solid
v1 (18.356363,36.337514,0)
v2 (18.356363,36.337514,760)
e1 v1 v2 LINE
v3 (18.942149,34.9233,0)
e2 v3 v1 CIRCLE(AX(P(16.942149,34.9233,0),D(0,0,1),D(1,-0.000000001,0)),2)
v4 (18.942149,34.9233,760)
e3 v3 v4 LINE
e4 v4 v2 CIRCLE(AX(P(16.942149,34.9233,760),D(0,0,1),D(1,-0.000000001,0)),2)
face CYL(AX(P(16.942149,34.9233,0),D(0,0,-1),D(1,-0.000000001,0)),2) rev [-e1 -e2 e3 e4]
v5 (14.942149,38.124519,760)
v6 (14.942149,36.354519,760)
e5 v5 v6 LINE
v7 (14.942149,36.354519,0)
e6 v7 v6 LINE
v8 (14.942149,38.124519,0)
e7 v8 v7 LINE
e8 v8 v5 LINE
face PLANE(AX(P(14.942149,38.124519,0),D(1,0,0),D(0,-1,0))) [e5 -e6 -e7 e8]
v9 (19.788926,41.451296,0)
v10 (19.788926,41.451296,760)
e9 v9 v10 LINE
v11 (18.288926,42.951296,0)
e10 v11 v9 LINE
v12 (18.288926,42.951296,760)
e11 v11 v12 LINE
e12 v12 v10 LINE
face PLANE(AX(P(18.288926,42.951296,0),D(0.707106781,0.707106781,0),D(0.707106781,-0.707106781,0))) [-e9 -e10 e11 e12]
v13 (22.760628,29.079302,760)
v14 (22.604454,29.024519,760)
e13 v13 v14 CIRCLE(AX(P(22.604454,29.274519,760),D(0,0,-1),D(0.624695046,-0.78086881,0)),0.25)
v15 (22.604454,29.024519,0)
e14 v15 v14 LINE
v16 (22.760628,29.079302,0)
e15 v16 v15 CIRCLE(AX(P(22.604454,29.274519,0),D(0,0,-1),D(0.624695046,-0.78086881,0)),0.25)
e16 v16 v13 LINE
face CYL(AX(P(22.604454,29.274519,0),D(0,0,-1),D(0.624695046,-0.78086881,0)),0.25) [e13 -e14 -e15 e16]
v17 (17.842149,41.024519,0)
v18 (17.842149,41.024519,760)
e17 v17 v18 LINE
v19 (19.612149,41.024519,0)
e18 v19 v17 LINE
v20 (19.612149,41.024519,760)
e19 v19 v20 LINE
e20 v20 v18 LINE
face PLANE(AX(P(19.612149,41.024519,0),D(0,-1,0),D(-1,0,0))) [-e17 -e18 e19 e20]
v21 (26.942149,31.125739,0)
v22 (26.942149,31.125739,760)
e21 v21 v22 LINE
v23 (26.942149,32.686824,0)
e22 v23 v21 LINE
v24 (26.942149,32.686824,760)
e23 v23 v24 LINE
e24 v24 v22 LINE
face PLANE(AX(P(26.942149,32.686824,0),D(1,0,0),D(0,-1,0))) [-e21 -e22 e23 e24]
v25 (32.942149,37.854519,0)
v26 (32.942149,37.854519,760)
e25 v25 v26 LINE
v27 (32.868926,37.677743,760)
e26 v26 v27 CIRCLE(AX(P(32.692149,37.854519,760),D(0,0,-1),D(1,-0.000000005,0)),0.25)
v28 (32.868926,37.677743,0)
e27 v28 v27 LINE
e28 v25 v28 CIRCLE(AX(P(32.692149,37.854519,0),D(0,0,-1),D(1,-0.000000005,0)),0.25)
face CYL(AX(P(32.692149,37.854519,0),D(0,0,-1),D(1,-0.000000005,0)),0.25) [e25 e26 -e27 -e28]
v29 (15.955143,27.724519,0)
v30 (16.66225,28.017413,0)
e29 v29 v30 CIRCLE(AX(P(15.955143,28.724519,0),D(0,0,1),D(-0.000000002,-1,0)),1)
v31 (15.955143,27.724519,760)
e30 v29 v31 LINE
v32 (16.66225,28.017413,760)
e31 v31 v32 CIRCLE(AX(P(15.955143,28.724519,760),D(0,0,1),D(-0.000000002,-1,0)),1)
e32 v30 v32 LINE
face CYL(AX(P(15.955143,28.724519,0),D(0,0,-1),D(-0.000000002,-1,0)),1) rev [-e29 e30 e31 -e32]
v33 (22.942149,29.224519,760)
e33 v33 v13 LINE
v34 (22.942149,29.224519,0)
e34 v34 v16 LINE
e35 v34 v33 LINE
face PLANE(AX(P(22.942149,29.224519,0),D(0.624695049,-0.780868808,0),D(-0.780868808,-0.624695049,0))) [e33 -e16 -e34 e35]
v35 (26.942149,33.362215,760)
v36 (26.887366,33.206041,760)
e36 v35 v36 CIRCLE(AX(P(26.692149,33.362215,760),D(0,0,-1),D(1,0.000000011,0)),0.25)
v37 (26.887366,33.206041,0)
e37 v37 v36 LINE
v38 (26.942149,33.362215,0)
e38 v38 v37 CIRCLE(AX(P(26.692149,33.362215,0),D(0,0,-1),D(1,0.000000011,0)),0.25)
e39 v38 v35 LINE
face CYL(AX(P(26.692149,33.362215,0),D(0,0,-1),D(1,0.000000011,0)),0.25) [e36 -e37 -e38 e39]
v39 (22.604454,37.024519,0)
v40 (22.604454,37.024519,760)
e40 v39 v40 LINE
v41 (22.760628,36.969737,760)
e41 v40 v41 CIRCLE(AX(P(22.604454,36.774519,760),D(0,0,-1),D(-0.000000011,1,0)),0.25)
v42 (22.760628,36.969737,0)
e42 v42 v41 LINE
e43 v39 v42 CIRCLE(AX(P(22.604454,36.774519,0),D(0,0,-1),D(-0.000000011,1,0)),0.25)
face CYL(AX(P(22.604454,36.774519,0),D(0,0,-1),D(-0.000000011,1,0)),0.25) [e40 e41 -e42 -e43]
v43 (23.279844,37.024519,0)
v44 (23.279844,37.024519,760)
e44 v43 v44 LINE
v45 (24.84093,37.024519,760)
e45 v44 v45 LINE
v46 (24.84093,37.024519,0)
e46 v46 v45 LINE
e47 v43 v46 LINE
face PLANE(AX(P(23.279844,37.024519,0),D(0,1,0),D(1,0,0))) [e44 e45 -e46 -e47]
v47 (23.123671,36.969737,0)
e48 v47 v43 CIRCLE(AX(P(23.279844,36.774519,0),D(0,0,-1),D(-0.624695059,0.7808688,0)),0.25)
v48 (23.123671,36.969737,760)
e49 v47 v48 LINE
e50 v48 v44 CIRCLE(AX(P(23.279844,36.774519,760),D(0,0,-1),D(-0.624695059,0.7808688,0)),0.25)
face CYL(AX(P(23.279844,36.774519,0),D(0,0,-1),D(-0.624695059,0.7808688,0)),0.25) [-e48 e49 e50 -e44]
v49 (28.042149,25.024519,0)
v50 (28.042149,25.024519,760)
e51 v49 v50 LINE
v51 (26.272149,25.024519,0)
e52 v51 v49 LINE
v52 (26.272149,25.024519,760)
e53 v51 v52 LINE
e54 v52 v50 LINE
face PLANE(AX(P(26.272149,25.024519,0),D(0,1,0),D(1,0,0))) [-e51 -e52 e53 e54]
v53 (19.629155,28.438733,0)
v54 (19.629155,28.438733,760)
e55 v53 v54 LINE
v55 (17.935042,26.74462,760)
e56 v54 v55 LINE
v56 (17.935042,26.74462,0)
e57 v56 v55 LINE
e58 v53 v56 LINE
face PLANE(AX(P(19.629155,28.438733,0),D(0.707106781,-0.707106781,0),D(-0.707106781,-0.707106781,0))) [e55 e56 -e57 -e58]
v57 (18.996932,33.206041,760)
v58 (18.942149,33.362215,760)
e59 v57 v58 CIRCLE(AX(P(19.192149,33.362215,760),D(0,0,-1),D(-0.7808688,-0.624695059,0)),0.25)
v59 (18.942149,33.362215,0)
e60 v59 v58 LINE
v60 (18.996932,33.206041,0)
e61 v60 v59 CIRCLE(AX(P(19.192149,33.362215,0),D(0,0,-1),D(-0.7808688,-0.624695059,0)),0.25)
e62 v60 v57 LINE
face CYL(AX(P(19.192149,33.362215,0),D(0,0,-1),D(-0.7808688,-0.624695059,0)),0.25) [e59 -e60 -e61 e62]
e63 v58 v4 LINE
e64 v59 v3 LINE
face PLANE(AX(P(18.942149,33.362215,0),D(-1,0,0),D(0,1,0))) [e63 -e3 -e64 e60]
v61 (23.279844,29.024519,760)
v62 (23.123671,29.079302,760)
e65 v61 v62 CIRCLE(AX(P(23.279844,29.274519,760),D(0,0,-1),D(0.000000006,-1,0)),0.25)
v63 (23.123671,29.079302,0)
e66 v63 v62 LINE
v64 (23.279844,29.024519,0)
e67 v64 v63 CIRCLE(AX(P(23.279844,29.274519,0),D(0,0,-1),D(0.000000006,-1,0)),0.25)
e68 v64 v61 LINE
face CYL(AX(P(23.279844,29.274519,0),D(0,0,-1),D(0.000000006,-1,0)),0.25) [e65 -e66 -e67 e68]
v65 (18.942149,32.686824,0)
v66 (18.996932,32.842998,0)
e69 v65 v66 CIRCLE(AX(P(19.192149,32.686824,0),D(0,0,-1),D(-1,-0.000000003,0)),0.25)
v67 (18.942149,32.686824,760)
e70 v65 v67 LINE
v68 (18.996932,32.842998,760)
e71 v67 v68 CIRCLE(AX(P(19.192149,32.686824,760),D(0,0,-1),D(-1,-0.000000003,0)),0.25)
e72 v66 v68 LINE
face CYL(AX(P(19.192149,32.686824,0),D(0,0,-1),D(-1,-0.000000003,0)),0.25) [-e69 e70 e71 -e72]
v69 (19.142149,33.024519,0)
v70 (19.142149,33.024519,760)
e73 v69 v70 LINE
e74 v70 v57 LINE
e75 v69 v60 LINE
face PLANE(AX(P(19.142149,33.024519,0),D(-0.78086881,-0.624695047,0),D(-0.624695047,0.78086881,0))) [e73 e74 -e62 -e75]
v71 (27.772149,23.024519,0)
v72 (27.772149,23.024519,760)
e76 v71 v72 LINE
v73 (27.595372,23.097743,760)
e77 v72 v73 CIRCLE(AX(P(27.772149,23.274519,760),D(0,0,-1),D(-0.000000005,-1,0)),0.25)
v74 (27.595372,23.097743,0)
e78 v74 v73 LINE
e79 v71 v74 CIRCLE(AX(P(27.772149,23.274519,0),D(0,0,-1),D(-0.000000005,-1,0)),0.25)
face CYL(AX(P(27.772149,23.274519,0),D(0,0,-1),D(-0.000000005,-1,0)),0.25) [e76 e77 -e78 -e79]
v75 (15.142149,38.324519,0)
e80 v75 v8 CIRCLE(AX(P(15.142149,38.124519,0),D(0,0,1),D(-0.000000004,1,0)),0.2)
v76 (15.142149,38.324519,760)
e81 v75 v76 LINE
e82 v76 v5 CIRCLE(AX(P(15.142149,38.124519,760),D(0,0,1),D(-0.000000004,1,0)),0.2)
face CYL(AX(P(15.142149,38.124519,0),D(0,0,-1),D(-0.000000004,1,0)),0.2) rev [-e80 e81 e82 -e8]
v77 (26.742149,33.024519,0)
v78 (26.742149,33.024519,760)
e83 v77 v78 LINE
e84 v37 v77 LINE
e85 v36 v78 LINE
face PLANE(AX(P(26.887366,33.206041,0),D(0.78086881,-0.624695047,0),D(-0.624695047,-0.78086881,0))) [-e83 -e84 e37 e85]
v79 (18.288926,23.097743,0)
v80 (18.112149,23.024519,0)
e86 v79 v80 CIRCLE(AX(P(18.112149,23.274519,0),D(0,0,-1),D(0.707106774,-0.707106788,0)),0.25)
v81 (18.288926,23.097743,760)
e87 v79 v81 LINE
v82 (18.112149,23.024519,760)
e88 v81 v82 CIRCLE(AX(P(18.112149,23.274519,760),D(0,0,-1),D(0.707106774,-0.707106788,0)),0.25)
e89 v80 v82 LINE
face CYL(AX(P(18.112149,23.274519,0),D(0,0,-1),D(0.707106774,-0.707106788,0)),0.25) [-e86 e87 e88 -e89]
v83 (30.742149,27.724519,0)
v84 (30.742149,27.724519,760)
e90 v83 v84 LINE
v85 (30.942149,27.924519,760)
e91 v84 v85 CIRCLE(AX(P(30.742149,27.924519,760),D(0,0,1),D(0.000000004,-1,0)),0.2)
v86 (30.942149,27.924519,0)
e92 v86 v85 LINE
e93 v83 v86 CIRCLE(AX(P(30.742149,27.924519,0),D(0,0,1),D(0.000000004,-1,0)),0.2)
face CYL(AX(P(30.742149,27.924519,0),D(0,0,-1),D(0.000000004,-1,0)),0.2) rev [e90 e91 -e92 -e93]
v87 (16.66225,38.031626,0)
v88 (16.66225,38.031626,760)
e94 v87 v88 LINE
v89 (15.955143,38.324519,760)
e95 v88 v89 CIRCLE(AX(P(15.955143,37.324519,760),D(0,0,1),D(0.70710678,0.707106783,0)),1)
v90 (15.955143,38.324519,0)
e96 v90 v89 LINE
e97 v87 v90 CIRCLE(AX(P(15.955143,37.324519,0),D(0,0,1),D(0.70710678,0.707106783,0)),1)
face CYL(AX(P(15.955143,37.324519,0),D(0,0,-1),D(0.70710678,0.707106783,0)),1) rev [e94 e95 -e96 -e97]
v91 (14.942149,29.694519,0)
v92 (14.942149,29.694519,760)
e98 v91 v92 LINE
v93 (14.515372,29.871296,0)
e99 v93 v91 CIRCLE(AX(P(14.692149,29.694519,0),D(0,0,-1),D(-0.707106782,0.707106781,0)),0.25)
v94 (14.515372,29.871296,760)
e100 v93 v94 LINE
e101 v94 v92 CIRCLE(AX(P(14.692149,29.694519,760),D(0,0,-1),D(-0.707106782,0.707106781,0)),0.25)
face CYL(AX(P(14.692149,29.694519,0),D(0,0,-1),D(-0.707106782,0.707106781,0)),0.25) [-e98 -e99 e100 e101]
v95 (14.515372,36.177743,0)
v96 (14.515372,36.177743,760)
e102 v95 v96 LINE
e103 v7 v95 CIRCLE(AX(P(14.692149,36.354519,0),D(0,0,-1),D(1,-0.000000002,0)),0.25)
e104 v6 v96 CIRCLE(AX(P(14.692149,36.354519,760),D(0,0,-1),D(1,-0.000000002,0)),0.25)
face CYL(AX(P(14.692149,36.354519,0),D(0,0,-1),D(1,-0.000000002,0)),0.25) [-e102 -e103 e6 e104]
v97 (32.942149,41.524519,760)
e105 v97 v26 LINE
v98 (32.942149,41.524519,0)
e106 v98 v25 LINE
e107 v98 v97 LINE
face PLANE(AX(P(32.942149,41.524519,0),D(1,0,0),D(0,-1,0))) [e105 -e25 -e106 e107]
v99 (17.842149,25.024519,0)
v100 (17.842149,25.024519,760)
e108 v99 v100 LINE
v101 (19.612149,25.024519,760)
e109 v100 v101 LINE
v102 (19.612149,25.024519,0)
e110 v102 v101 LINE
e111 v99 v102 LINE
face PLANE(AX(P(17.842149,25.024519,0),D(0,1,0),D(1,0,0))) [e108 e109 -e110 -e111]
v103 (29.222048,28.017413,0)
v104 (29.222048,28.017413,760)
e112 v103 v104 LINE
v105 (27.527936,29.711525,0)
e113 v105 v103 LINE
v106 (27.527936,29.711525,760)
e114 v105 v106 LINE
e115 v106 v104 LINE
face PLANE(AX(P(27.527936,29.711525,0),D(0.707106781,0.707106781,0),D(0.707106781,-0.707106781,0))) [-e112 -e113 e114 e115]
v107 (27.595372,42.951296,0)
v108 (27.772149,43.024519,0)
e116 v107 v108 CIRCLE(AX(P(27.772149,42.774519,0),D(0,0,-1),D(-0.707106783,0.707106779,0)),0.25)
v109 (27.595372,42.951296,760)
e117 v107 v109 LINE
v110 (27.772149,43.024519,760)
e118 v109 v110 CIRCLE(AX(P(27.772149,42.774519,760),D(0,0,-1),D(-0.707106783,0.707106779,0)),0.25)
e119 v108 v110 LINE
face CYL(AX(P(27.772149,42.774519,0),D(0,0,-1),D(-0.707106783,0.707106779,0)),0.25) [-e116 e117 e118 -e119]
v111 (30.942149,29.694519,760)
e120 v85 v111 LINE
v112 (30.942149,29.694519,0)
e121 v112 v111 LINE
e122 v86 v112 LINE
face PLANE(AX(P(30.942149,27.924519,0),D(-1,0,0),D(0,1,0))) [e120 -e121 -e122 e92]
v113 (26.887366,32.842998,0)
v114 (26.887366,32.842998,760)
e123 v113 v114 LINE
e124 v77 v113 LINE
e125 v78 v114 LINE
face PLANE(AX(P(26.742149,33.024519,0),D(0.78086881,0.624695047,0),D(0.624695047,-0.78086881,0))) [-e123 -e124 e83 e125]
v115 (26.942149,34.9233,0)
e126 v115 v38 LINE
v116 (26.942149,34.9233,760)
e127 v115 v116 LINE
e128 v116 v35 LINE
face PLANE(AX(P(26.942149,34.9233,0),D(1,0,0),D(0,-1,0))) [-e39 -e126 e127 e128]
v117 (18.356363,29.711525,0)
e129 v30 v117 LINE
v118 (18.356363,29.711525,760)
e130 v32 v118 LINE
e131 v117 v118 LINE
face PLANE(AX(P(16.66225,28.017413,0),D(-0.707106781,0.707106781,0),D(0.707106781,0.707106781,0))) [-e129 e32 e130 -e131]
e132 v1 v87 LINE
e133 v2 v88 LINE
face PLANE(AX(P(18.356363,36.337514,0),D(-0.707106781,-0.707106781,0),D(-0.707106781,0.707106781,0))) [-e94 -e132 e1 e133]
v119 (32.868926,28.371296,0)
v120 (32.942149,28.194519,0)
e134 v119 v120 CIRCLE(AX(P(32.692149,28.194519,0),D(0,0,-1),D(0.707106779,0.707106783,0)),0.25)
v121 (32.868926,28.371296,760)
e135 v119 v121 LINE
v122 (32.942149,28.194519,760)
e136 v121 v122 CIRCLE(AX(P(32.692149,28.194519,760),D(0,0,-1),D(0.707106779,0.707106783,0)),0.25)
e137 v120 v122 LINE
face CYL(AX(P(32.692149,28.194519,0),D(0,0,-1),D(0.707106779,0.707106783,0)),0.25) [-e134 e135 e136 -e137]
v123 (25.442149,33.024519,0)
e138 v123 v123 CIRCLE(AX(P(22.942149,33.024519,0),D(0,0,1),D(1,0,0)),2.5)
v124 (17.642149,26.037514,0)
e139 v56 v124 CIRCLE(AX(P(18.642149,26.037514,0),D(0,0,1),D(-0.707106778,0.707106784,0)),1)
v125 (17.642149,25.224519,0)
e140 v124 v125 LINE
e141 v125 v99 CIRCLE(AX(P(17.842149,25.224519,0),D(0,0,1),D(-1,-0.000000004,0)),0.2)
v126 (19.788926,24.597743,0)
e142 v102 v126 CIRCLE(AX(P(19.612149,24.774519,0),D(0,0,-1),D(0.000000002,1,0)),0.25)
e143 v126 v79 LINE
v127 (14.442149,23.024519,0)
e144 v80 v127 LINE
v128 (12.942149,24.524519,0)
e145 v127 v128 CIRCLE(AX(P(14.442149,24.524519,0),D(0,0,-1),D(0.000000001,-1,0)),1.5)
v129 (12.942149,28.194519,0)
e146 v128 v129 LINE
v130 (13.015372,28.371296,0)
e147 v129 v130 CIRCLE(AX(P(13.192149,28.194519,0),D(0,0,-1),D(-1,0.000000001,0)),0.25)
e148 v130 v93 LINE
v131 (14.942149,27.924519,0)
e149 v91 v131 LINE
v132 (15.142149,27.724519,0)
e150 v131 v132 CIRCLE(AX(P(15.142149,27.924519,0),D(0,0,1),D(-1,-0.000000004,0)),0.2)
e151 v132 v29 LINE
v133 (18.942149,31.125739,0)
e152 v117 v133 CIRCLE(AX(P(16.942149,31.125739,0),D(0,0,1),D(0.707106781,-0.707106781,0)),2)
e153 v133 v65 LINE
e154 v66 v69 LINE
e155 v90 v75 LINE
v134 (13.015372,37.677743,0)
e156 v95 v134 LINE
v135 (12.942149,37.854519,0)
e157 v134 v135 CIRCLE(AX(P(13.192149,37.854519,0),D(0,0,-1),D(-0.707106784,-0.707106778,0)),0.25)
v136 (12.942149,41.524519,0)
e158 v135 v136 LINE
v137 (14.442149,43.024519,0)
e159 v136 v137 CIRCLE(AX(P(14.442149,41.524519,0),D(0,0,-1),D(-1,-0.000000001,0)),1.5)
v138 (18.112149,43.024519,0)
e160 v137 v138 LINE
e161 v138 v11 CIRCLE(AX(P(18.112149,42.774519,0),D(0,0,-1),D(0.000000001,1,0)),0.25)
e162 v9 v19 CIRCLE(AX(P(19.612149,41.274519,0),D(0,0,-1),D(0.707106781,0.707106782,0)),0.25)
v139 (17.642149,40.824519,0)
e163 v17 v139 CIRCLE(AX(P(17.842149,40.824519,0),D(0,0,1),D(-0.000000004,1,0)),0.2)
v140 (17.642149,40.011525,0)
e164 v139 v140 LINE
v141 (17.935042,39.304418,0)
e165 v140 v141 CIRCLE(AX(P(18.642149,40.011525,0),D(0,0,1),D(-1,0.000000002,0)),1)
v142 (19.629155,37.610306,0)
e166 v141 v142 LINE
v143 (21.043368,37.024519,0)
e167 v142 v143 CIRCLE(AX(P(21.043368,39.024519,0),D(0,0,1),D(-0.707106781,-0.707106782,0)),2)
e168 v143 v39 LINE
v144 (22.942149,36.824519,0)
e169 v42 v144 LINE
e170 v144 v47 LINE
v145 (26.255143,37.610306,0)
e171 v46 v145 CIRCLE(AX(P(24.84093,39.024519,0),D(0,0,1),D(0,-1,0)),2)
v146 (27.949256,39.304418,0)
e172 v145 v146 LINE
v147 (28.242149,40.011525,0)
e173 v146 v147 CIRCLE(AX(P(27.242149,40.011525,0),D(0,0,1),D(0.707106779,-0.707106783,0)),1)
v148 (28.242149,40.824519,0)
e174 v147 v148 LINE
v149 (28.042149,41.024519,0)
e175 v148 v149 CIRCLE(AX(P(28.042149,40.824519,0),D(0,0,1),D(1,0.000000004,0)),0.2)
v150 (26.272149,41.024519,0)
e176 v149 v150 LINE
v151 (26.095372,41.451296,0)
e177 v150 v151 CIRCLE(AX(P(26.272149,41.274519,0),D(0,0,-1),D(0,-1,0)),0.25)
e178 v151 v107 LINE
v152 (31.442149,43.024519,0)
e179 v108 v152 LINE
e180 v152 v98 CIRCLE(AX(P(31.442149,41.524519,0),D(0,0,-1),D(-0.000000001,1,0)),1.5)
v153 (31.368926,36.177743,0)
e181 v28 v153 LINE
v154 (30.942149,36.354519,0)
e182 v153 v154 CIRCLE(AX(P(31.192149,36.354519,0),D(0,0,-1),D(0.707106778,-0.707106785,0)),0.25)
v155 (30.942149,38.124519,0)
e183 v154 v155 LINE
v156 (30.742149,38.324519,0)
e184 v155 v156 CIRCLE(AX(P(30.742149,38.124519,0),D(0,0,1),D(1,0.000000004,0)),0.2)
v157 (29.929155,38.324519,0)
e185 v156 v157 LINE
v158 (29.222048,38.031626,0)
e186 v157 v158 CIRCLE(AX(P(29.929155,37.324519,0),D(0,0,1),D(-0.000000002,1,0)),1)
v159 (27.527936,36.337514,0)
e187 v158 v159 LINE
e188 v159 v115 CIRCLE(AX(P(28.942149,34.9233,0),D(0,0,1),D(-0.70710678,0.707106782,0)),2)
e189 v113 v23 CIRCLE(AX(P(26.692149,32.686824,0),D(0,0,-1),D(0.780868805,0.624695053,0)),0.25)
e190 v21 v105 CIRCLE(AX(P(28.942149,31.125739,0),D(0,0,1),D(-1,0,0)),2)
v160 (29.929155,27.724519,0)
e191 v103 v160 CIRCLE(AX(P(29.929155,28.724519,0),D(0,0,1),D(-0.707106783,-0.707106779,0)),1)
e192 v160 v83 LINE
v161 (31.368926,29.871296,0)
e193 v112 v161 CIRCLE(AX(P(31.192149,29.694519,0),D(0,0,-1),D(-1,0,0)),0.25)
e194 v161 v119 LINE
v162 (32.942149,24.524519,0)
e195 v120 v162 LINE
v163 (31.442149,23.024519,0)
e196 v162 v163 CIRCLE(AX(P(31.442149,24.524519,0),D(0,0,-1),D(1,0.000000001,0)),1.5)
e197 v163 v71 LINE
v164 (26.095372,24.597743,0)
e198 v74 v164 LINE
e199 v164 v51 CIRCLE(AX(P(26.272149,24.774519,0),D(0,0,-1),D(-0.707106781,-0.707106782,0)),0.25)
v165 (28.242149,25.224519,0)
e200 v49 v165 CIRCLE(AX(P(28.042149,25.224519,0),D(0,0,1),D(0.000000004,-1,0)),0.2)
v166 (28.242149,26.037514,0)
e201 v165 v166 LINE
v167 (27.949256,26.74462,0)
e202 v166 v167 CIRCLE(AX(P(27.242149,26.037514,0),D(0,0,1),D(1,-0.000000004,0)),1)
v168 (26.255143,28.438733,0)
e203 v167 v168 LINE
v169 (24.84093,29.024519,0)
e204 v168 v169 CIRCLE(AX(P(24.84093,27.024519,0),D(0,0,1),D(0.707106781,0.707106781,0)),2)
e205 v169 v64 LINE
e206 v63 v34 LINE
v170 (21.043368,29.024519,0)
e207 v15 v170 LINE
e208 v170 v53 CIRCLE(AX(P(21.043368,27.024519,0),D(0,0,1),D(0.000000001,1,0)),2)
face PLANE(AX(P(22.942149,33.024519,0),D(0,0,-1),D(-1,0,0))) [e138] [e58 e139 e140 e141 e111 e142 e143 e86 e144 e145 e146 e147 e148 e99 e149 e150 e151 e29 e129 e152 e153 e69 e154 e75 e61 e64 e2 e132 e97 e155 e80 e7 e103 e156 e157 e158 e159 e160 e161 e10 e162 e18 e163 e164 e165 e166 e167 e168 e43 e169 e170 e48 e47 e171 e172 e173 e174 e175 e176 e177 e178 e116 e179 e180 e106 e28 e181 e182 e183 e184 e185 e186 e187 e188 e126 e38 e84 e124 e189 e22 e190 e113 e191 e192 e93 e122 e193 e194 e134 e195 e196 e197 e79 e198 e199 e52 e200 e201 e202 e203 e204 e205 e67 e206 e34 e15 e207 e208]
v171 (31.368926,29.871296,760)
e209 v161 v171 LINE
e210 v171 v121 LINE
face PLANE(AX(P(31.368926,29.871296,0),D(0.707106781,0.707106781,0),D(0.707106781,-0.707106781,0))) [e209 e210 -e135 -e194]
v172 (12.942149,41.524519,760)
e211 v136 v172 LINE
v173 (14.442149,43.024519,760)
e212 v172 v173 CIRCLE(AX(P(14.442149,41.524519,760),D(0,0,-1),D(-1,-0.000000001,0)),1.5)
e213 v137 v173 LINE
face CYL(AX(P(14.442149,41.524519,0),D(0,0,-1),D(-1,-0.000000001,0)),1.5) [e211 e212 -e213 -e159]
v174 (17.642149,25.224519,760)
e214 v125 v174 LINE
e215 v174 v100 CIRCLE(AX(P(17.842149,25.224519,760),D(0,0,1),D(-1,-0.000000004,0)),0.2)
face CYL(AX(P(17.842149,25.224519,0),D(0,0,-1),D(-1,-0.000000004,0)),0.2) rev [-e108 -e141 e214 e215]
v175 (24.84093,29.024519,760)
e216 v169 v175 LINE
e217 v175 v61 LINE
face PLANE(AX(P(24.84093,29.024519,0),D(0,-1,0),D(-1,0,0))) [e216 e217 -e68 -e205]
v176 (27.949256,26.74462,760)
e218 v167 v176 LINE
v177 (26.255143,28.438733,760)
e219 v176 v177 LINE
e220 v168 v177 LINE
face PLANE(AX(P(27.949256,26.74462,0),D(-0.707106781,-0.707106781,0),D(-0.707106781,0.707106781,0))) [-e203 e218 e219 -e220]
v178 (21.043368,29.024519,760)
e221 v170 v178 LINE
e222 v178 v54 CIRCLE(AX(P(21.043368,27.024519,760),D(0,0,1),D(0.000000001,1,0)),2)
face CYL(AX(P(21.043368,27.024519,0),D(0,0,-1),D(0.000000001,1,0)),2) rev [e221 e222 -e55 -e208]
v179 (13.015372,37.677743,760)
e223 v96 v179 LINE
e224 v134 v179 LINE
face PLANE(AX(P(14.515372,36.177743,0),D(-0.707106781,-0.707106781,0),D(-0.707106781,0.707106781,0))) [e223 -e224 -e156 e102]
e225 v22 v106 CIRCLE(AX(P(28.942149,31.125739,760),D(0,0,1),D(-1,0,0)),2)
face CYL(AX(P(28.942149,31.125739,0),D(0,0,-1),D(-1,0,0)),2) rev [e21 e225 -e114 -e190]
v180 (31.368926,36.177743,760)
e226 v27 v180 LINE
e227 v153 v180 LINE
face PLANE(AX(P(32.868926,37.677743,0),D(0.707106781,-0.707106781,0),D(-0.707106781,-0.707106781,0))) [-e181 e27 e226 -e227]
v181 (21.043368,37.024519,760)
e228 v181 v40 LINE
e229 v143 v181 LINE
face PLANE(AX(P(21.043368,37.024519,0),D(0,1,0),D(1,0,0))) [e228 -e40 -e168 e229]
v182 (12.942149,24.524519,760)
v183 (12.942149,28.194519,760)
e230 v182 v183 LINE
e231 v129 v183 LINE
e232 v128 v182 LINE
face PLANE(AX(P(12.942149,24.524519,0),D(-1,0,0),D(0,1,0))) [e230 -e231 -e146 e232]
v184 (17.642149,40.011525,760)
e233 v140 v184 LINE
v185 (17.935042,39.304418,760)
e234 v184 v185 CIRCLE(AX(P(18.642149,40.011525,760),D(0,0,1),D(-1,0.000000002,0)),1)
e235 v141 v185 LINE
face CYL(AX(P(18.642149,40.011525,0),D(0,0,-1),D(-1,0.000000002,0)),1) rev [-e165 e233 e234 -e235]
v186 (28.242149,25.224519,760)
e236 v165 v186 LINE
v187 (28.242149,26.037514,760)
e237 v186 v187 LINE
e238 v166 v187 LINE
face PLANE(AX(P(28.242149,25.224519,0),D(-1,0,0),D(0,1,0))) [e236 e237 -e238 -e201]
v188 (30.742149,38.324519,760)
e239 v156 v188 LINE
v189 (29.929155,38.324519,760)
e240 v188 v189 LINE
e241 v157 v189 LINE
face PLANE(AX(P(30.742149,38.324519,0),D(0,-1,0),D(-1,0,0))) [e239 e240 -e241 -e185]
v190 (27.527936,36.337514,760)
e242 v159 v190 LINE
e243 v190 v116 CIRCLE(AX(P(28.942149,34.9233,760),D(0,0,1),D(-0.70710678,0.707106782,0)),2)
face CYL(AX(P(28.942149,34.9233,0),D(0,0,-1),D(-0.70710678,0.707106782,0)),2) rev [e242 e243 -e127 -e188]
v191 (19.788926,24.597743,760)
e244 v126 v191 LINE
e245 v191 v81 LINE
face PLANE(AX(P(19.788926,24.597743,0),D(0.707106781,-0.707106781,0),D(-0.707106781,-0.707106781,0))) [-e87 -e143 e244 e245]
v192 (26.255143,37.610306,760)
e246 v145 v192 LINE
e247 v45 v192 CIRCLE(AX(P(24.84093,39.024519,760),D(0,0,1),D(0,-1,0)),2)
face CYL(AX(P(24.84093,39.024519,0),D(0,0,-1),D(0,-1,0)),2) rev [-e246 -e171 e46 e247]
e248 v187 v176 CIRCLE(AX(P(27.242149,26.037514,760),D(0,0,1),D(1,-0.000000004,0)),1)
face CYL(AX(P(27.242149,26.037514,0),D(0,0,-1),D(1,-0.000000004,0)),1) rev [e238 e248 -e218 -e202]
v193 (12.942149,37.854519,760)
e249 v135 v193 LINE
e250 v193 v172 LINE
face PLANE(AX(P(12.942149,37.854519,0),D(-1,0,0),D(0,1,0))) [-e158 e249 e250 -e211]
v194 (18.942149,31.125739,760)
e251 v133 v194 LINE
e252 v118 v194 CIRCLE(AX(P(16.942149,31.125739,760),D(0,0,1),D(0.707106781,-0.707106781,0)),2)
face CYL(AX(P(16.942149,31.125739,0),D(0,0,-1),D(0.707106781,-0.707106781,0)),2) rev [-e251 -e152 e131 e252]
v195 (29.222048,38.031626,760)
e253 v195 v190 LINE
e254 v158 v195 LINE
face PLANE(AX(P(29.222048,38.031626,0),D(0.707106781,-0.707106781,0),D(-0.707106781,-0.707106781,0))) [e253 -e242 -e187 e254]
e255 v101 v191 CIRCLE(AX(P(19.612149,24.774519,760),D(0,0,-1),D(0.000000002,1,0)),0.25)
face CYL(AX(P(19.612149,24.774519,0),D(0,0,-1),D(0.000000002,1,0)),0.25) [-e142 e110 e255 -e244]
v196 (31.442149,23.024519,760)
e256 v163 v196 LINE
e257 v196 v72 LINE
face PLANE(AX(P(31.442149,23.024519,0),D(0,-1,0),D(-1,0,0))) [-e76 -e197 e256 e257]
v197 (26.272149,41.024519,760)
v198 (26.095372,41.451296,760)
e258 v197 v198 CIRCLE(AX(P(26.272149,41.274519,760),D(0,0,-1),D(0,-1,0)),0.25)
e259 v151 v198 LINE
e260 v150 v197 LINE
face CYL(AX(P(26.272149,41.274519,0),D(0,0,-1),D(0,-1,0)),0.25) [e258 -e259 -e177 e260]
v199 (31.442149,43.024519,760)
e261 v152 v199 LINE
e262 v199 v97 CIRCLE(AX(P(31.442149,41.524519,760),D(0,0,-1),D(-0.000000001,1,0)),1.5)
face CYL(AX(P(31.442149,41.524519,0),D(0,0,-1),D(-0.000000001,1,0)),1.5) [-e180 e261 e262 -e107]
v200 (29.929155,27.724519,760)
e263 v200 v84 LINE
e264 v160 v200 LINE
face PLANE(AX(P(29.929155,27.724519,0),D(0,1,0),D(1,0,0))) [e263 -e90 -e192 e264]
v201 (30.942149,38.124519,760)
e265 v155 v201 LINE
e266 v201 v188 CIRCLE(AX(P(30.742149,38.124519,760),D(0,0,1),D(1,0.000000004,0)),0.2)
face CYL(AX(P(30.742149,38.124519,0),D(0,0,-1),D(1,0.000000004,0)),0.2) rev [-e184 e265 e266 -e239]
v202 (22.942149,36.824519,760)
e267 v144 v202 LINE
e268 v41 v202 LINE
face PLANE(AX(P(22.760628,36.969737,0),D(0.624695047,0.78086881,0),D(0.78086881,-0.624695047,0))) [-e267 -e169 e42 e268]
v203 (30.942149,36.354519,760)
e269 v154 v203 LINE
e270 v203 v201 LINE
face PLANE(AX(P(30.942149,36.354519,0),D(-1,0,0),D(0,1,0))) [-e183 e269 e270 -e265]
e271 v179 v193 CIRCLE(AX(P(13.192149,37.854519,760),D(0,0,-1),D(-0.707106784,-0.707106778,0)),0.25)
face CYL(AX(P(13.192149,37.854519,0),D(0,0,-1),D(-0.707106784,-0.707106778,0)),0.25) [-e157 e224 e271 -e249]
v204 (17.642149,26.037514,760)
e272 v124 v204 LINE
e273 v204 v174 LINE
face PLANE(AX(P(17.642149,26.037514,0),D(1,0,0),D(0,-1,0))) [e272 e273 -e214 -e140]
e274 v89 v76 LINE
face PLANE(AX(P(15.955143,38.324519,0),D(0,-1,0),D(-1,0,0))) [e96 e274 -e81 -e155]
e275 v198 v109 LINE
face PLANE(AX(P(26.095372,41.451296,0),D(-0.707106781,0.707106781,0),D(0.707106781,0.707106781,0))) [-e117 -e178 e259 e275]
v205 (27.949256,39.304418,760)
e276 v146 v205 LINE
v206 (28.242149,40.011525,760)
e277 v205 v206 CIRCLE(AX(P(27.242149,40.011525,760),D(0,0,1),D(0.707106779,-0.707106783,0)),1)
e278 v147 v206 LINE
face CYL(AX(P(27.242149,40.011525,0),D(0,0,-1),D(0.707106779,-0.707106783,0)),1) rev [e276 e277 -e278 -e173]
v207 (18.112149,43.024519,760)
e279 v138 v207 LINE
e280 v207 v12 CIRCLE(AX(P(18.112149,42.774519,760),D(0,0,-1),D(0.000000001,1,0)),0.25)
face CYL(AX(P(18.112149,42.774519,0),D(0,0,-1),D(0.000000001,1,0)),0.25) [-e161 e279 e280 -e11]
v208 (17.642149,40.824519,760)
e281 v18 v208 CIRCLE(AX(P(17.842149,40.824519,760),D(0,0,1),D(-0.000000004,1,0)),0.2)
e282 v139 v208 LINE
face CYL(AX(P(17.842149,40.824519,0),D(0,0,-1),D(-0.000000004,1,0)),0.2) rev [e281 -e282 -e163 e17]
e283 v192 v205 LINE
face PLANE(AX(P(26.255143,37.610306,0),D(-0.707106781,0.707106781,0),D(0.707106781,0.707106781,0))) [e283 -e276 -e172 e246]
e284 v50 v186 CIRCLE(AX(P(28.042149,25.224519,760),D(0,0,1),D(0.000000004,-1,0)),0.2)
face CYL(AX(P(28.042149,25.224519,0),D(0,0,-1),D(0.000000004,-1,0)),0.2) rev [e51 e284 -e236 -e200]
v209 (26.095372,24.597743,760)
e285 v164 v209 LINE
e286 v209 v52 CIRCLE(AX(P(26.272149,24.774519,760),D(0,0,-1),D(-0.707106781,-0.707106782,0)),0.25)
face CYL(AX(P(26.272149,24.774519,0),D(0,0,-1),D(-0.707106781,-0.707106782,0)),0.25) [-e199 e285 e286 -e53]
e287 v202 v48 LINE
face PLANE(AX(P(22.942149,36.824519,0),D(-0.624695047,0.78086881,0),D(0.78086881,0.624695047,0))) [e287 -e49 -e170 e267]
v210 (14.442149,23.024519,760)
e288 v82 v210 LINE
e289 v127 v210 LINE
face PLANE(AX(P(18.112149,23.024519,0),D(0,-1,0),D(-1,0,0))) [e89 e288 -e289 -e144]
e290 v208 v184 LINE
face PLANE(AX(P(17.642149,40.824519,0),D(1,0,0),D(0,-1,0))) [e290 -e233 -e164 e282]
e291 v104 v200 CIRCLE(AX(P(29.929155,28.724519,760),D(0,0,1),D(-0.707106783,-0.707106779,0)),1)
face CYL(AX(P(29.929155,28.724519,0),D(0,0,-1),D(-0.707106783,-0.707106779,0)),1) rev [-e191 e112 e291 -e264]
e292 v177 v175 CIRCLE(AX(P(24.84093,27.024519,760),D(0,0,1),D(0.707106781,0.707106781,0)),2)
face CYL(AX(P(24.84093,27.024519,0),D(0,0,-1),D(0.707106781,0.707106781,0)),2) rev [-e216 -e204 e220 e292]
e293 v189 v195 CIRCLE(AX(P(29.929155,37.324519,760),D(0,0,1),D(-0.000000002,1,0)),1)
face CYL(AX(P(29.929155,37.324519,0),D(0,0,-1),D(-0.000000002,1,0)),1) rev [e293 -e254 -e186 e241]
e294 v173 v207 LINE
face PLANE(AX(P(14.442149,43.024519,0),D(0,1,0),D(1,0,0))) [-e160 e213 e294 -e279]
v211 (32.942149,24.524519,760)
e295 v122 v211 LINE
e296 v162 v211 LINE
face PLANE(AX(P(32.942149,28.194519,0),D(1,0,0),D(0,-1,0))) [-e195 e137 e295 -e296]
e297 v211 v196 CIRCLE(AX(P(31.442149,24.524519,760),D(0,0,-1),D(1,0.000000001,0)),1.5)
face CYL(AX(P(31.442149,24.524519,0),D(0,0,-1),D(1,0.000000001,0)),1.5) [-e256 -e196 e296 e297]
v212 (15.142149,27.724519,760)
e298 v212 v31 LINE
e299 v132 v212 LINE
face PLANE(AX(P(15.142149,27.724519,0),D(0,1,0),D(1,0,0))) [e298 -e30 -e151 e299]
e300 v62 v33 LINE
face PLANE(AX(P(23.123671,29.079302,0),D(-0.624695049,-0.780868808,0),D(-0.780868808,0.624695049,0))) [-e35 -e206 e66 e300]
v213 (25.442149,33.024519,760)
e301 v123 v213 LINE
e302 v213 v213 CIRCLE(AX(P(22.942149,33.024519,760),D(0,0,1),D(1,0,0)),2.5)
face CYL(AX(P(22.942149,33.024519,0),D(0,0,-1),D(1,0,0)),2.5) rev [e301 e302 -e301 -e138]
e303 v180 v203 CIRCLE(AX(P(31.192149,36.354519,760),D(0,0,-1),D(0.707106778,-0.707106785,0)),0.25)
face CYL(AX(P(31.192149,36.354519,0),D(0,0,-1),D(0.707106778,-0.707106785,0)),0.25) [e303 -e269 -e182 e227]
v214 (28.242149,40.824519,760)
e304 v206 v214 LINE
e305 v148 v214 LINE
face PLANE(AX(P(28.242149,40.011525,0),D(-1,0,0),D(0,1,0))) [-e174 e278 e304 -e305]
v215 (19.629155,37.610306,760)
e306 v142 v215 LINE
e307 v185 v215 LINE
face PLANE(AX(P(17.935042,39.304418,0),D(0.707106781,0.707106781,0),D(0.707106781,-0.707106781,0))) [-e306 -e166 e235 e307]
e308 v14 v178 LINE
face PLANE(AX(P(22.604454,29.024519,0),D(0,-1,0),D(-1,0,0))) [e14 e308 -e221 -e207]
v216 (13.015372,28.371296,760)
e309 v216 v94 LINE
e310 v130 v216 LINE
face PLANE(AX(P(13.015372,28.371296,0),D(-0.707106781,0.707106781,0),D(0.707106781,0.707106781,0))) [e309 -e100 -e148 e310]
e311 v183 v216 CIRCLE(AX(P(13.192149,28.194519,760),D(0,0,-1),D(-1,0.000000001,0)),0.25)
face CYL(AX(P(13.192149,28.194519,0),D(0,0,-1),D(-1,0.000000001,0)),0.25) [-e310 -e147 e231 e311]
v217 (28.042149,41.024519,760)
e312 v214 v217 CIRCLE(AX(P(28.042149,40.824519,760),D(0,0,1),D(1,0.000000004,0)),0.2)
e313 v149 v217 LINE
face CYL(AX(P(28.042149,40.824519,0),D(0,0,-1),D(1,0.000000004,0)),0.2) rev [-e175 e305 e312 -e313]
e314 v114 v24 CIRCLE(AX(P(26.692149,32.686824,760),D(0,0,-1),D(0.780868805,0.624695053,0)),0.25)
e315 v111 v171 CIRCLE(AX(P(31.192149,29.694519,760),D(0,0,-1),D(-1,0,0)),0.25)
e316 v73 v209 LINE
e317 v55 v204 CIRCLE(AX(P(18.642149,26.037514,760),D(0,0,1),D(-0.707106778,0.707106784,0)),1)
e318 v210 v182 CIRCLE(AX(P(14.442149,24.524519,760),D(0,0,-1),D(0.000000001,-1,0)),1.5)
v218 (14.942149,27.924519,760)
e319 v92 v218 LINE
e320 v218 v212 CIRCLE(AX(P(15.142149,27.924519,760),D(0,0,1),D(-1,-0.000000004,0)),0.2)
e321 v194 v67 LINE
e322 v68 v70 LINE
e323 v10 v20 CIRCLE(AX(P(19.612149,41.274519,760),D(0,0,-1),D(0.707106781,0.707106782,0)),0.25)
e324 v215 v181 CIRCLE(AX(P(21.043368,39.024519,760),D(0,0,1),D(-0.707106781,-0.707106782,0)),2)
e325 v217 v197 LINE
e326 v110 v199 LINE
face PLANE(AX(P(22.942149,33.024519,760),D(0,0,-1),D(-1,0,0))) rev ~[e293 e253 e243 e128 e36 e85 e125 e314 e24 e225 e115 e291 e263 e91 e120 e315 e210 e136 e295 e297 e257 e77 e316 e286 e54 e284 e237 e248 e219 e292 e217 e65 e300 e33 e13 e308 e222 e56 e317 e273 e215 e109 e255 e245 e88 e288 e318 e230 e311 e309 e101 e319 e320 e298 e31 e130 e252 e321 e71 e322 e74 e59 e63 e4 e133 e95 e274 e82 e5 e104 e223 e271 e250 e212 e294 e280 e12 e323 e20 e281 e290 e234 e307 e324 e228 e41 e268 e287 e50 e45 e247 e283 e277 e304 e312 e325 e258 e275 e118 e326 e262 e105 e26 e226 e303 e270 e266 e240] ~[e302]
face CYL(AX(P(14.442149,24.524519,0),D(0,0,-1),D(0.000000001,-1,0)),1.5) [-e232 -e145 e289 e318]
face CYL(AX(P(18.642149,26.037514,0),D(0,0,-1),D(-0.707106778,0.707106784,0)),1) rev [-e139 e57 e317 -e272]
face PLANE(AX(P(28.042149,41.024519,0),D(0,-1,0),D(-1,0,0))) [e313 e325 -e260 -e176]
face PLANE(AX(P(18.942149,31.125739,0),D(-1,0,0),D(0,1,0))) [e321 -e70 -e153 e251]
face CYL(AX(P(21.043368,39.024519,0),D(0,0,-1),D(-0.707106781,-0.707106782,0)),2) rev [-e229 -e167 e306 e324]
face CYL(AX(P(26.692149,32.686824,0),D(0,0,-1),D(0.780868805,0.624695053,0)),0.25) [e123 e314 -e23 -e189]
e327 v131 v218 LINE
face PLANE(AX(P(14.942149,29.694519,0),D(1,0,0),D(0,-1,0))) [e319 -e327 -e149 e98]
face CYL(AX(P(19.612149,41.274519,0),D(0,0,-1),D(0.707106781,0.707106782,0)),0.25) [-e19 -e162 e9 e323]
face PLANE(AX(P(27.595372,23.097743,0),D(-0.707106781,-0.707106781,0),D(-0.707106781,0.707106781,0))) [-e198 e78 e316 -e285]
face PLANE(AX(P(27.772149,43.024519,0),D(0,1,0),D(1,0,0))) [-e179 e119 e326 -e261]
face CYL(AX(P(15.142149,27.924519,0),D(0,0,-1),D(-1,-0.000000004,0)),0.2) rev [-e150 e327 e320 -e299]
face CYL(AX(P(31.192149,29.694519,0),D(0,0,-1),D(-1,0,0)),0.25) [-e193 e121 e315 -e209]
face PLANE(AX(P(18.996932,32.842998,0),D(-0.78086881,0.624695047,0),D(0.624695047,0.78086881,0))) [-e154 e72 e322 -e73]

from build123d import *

# Parameters (mm, degrees)
MODEL_R         = 2.5
EXTRUDE_1_DEPTH = 760


with BuildPart() as part:
    # Model → Бобышка-Вытянуть1 (new body)
    with BuildSketch(Plane.XY):
        with BuildLine():
            Line((18.94214915, 33.362214718), (18.94214915, 34.923300122))
            ThreePointArc((18.94214915, 34.923300122), (18.789908215, 35.688666987), (18.356362712, 36.337513684))
            Line((18.356362712, 36.337513684), (16.662250163, 38.031626234))
            ThreePointArc((16.662250163, 38.031626234), (16.337826814, 38.248398985), (15.955143382, 38.324519453))
            Line((15.955143382, 38.324519453), (15.14214915, 38.324519453))
            ThreePointArc((15.14214915, 38.324519453), (15.000727794, 38.265940809), (14.94214915, 38.124519453))
            Line((14.94214915, 38.124519453), (14.94214915, 36.354519453))
            ThreePointArc((14.94214915, 36.354519453), (14.787820008, 36.12354957), (14.515372455, 36.177742757))
            Line((14.515372455, 36.177742757), (13.015372455, 37.677742757))
            ThreePointArc((13.015372455, 37.677742757), (12.961179267, 37.758848595), (12.94214915, 37.854519453))
            Line((12.94214915, 37.854519453), (12.94214915, 41.524519453))
            ThreePointArc((12.94214915, 41.524519453), (13.381488978, 42.585179625), (14.44214915, 43.024519453))
            Line((14.44214915, 43.024519453), (18.11214915, 43.024519453))
            ThreePointArc((18.11214915, 43.024519453), (18.207820008, 43.005489336), (18.288925845, 42.951296148))
            Line((18.288925845, 42.951296148), (19.788925845, 41.451296148))
            ThreePointArc((19.788925845, 41.451296148), (19.843119033, 41.178848595), (19.61214915, 41.024519453))
            Line((19.61214915, 41.024519453), (17.84214915, 41.024519453))
            ThreePointArc((17.84214915, 41.024519453), (17.700727794, 40.965940809), (17.64214915, 40.824519453))
            Line((17.64214915, 40.824519453), (17.64214915, 40.011525221))
            ThreePointArc((17.64214915, 40.011525221), (17.718269617, 39.628841789), (17.935042369, 39.30441844))
            Line((17.935042369, 39.30441844), (19.629154919, 37.61030589))
            ThreePointArc((19.629154919, 37.61030589), (20.278001616, 37.176760388), (21.043368481, 37.024519453))
            Line((21.043368481, 37.024519453), (22.604453885, 37.024519453))
            ThreePointArc((22.604453885, 37.024519453), (22.687205621, 37.010426533), (22.760627647, 36.969736655))
            Line((22.760627647, 36.969736655), (22.94214915, 36.824519453))
            Line((22.94214915, 36.824519453), (23.123670653, 36.969736655))
            ThreePointArc((23.123670653, 36.969736655), (23.197092679, 37.010426533), (23.279844415, 37.024519453))
            Line((23.279844415, 37.024519453), (24.840929819, 37.024519453))
            ThreePointArc((24.840929819, 37.024519453), (25.606296684, 37.176760388), (26.255143382, 37.61030589))
            Line((26.255143382, 37.61030589), (27.949255931, 39.30441844))
            ThreePointArc((27.949255931, 39.30441844), (28.166028683, 39.628841789), (28.24214915, 40.011525221))
            Line((28.24214915, 40.011525221), (28.24214915, 40.824519453))
            ThreePointArc((28.24214915, 40.824519453), (28.183570506, 40.965940809), (28.04214915, 41.024519453))
            Line((28.04214915, 41.024519453), (26.27214915, 41.024519453))
            ThreePointArc((26.27214915, 41.024519453), (26.041179267, 41.178848595), (26.095372455, 41.451296148))
            Line((26.095372455, 41.451296148), (27.595372455, 42.951296148))
            ThreePointArc((27.595372455, 42.951296148), (27.676478292, 43.005489336), (27.77214915, 43.024519453))
            Line((27.77214915, 43.024519453), (31.44214915, 43.024519453))
            ThreePointArc((31.44214915, 43.024519453), (32.502809322, 42.585179625), (32.94214915, 41.524519453))
            Line((32.94214915, 41.524519453), (32.94214915, 37.854519453))
            ThreePointArc((32.94214915, 37.854519453), (32.923119033, 37.758848595), (32.868925845, 37.677742757))
            Line((32.868925845, 37.677742757), (31.368925845, 36.177742757))
            ThreePointArc((31.368925845, 36.177742757), (31.096478292, 36.12354957), (30.94214915, 36.354519453))
            Line((30.94214915, 36.354519453), (30.94214915, 38.124519453))
            ThreePointArc((30.94214915, 38.124519453), (30.883570506, 38.265940809), (30.74214915, 38.324519453))
            Line((30.74214915, 38.324519453), (29.929154919, 38.324519453))
            ThreePointArc((29.929154919, 38.324519453), (29.546471486, 38.248398985), (29.222048137, 38.031626234))
            Line((29.222048137, 38.031626234), (27.527935588, 36.337513684))
            ThreePointArc((27.527935588, 36.337513684), (27.094390085, 35.688666987), (26.94214915, 34.923300122))
            Line((26.94214915, 34.923300122), (26.94214915, 33.362214718))
            ThreePointArc((26.94214915, 33.362214718), (26.92805623, 33.279462982), (26.887366352, 33.206040956))
            Line((26.887366352, 33.206040956), (26.74214915, 33.024519453))
            Line((26.74214915, 33.024519453), (26.887366352, 32.84299795))
            ThreePointArc((26.887366352, 32.84299795), (26.92805623, 32.769575923), (26.94214915, 32.686824188))
            Line((26.94214915, 32.686824188), (26.94214915, 31.125738784))
            ThreePointArc((26.94214915, 31.125738784), (27.094390085, 30.360371919), (27.527935588, 29.711525221))
            Line((27.527935588, 29.711525221), (29.222048137, 28.017412672))
            ThreePointArc((29.222048137, 28.017412672), (29.546471486, 27.80063992), (29.929154919, 27.724519453))
            Line((29.929154919, 27.724519453), (30.74214915, 27.724519453))
            ThreePointArc((30.74214915, 27.724519453), (30.883570506, 27.783098097), (30.94214915, 27.924519453))
            Line((30.94214915, 27.924519453), (30.94214915, 29.694519453))
            ThreePointArc((30.94214915, 29.694519453), (31.096478292, 29.925489336), (31.368925845, 29.871296148))
            Line((31.368925845, 29.871296148), (32.868925845, 28.371296148))
            ThreePointArc((32.868925845, 28.371296148), (32.923119033, 28.290190311), (32.94214915, 28.194519453))
            Line((32.94214915, 28.194519453), (32.94214915, 24.524519453))
            ThreePointArc((32.94214915, 24.524519453), (32.502809322, 23.463859281), (31.44214915, 23.024519453))
            Line((31.44214915, 23.024519453), (27.77214915, 23.024519453))
            ThreePointArc((27.77214915, 23.024519453), (27.676478292, 23.04354957), (27.595372455, 23.097742757))
            Line((27.595372455, 23.097742757), (26.095372455, 24.597742757))
            ThreePointArc((26.095372455, 24.597742757), (26.041179267, 24.870190311), (26.27214915, 25.024519453))
            Line((26.27214915, 25.024519453), (28.04214915, 25.024519453))
            ThreePointArc((28.04214915, 25.024519453), (28.183570506, 25.083098097), (28.24214915, 25.224519453))
            Line((28.24214915, 25.224519453), (28.24214915, 26.037513684))
            ThreePointArc((28.24214915, 26.037513684), (28.166028683, 26.420197117), (27.949255931, 26.744620465))
            Line((27.949255931, 26.744620465), (26.255143382, 28.438733015))
            ThreePointArc((26.255143382, 28.438733015), (25.606296684, 28.872278518), (24.840929819, 29.024519453))
            Line((24.840929819, 29.024519453), (23.279844415, 29.024519453))
            ThreePointArc((23.279844415, 29.024519453), (23.197092679, 29.038612373), (23.123670653, 29.07930225))
            Line((23.123670653, 29.07930225), (22.94214915, 29.224519453))
            Line((22.94214915, 29.224519453), (22.760627647, 29.07930225))
            ThreePointArc((22.760627647, 29.07930225), (22.687205621, 29.038612373), (22.604453885, 29.024519453))
            Line((22.604453885, 29.024519453), (21.043368481, 29.024519453))
            ThreePointArc((21.043368481, 29.024519453), (20.278001616, 28.872278518), (19.629154919, 28.438733015))
            Line((19.629154919, 28.438733015), (17.935042369, 26.744620465))
            ThreePointArc((17.935042369, 26.744620465), (17.718269617, 26.420197117), (17.64214915, 26.037513684))
            Line((17.64214915, 26.037513684), (17.64214915, 25.224519453))
            ThreePointArc((17.64214915, 25.224519453), (17.700727794, 25.083098097), (17.84214915, 25.024519453))
            Line((17.84214915, 25.024519453), (19.61214915, 25.024519453))
            ThreePointArc((19.61214915, 25.024519453), (19.843119033, 24.870190311), (19.788925845, 24.597742757))
            Line((19.788925845, 24.597742757), (18.288925845, 23.097742757))
            ThreePointArc((18.288925845, 23.097742757), (18.207820008, 23.04354957), (18.11214915, 23.024519453))
            Line((18.11214915, 23.024519453), (14.44214915, 23.024519453))
            ThreePointArc((14.44214915, 23.024519453), (13.381488978, 23.463859281), (12.94214915, 24.524519453))
            Line((12.94214915, 24.524519453), (12.94214915, 28.194519453))
            ThreePointArc((12.94214915, 28.194519453), (12.961179267, 28.290190311), (13.015372455, 28.371296148))
            Line((13.015372455, 28.371296148), (14.515372455, 29.871296148))
            ThreePointArc((14.515372455, 29.871296148), (14.787820008, 29.925489336), (14.94214915, 29.694519453))
            Line((14.94214915, 29.694519453), (14.94214915, 27.924519453))
            ThreePointArc((14.94214915, 27.924519453), (15.000727794, 27.783098097), (15.14214915, 27.724519453))
            Line((15.14214915, 27.724519453), (15.955143382, 27.724519453))
            ThreePointArc((15.955143382, 27.724519453), (16.337826814, 27.80063992), (16.662250163, 28.017412672))
            Line((16.662250163, 28.017412672), (18.356362712, 29.711525221))
            ThreePointArc((18.356362712, 29.711525221), (18.789908215, 30.360371919), (18.94214915, 31.125738784))
            Line((18.94214915, 31.125738784), (18.94214915, 32.686824188))
            ThreePointArc((18.94214915, 32.686824188), (18.95624207, 32.769575923), (18.996931948, 32.84299795))
            Line((18.996931948, 32.84299795), (19.14214915, 33.024519453))
            Line((19.14214915, 33.024519453), (18.996931948, 33.206040956))
            ThreePointArc((18.996931948, 33.206040956), (18.95624207, 33.279462982), (18.94214915, 33.362214718))
        make_face()
        with Locations((22.94214915, 33.024519453)):
            Circle(MODEL_R, mode=Mode.SUBTRACT)
    extrude(amount=EXTRUDE_1_DEPTH)


solid = part.part
